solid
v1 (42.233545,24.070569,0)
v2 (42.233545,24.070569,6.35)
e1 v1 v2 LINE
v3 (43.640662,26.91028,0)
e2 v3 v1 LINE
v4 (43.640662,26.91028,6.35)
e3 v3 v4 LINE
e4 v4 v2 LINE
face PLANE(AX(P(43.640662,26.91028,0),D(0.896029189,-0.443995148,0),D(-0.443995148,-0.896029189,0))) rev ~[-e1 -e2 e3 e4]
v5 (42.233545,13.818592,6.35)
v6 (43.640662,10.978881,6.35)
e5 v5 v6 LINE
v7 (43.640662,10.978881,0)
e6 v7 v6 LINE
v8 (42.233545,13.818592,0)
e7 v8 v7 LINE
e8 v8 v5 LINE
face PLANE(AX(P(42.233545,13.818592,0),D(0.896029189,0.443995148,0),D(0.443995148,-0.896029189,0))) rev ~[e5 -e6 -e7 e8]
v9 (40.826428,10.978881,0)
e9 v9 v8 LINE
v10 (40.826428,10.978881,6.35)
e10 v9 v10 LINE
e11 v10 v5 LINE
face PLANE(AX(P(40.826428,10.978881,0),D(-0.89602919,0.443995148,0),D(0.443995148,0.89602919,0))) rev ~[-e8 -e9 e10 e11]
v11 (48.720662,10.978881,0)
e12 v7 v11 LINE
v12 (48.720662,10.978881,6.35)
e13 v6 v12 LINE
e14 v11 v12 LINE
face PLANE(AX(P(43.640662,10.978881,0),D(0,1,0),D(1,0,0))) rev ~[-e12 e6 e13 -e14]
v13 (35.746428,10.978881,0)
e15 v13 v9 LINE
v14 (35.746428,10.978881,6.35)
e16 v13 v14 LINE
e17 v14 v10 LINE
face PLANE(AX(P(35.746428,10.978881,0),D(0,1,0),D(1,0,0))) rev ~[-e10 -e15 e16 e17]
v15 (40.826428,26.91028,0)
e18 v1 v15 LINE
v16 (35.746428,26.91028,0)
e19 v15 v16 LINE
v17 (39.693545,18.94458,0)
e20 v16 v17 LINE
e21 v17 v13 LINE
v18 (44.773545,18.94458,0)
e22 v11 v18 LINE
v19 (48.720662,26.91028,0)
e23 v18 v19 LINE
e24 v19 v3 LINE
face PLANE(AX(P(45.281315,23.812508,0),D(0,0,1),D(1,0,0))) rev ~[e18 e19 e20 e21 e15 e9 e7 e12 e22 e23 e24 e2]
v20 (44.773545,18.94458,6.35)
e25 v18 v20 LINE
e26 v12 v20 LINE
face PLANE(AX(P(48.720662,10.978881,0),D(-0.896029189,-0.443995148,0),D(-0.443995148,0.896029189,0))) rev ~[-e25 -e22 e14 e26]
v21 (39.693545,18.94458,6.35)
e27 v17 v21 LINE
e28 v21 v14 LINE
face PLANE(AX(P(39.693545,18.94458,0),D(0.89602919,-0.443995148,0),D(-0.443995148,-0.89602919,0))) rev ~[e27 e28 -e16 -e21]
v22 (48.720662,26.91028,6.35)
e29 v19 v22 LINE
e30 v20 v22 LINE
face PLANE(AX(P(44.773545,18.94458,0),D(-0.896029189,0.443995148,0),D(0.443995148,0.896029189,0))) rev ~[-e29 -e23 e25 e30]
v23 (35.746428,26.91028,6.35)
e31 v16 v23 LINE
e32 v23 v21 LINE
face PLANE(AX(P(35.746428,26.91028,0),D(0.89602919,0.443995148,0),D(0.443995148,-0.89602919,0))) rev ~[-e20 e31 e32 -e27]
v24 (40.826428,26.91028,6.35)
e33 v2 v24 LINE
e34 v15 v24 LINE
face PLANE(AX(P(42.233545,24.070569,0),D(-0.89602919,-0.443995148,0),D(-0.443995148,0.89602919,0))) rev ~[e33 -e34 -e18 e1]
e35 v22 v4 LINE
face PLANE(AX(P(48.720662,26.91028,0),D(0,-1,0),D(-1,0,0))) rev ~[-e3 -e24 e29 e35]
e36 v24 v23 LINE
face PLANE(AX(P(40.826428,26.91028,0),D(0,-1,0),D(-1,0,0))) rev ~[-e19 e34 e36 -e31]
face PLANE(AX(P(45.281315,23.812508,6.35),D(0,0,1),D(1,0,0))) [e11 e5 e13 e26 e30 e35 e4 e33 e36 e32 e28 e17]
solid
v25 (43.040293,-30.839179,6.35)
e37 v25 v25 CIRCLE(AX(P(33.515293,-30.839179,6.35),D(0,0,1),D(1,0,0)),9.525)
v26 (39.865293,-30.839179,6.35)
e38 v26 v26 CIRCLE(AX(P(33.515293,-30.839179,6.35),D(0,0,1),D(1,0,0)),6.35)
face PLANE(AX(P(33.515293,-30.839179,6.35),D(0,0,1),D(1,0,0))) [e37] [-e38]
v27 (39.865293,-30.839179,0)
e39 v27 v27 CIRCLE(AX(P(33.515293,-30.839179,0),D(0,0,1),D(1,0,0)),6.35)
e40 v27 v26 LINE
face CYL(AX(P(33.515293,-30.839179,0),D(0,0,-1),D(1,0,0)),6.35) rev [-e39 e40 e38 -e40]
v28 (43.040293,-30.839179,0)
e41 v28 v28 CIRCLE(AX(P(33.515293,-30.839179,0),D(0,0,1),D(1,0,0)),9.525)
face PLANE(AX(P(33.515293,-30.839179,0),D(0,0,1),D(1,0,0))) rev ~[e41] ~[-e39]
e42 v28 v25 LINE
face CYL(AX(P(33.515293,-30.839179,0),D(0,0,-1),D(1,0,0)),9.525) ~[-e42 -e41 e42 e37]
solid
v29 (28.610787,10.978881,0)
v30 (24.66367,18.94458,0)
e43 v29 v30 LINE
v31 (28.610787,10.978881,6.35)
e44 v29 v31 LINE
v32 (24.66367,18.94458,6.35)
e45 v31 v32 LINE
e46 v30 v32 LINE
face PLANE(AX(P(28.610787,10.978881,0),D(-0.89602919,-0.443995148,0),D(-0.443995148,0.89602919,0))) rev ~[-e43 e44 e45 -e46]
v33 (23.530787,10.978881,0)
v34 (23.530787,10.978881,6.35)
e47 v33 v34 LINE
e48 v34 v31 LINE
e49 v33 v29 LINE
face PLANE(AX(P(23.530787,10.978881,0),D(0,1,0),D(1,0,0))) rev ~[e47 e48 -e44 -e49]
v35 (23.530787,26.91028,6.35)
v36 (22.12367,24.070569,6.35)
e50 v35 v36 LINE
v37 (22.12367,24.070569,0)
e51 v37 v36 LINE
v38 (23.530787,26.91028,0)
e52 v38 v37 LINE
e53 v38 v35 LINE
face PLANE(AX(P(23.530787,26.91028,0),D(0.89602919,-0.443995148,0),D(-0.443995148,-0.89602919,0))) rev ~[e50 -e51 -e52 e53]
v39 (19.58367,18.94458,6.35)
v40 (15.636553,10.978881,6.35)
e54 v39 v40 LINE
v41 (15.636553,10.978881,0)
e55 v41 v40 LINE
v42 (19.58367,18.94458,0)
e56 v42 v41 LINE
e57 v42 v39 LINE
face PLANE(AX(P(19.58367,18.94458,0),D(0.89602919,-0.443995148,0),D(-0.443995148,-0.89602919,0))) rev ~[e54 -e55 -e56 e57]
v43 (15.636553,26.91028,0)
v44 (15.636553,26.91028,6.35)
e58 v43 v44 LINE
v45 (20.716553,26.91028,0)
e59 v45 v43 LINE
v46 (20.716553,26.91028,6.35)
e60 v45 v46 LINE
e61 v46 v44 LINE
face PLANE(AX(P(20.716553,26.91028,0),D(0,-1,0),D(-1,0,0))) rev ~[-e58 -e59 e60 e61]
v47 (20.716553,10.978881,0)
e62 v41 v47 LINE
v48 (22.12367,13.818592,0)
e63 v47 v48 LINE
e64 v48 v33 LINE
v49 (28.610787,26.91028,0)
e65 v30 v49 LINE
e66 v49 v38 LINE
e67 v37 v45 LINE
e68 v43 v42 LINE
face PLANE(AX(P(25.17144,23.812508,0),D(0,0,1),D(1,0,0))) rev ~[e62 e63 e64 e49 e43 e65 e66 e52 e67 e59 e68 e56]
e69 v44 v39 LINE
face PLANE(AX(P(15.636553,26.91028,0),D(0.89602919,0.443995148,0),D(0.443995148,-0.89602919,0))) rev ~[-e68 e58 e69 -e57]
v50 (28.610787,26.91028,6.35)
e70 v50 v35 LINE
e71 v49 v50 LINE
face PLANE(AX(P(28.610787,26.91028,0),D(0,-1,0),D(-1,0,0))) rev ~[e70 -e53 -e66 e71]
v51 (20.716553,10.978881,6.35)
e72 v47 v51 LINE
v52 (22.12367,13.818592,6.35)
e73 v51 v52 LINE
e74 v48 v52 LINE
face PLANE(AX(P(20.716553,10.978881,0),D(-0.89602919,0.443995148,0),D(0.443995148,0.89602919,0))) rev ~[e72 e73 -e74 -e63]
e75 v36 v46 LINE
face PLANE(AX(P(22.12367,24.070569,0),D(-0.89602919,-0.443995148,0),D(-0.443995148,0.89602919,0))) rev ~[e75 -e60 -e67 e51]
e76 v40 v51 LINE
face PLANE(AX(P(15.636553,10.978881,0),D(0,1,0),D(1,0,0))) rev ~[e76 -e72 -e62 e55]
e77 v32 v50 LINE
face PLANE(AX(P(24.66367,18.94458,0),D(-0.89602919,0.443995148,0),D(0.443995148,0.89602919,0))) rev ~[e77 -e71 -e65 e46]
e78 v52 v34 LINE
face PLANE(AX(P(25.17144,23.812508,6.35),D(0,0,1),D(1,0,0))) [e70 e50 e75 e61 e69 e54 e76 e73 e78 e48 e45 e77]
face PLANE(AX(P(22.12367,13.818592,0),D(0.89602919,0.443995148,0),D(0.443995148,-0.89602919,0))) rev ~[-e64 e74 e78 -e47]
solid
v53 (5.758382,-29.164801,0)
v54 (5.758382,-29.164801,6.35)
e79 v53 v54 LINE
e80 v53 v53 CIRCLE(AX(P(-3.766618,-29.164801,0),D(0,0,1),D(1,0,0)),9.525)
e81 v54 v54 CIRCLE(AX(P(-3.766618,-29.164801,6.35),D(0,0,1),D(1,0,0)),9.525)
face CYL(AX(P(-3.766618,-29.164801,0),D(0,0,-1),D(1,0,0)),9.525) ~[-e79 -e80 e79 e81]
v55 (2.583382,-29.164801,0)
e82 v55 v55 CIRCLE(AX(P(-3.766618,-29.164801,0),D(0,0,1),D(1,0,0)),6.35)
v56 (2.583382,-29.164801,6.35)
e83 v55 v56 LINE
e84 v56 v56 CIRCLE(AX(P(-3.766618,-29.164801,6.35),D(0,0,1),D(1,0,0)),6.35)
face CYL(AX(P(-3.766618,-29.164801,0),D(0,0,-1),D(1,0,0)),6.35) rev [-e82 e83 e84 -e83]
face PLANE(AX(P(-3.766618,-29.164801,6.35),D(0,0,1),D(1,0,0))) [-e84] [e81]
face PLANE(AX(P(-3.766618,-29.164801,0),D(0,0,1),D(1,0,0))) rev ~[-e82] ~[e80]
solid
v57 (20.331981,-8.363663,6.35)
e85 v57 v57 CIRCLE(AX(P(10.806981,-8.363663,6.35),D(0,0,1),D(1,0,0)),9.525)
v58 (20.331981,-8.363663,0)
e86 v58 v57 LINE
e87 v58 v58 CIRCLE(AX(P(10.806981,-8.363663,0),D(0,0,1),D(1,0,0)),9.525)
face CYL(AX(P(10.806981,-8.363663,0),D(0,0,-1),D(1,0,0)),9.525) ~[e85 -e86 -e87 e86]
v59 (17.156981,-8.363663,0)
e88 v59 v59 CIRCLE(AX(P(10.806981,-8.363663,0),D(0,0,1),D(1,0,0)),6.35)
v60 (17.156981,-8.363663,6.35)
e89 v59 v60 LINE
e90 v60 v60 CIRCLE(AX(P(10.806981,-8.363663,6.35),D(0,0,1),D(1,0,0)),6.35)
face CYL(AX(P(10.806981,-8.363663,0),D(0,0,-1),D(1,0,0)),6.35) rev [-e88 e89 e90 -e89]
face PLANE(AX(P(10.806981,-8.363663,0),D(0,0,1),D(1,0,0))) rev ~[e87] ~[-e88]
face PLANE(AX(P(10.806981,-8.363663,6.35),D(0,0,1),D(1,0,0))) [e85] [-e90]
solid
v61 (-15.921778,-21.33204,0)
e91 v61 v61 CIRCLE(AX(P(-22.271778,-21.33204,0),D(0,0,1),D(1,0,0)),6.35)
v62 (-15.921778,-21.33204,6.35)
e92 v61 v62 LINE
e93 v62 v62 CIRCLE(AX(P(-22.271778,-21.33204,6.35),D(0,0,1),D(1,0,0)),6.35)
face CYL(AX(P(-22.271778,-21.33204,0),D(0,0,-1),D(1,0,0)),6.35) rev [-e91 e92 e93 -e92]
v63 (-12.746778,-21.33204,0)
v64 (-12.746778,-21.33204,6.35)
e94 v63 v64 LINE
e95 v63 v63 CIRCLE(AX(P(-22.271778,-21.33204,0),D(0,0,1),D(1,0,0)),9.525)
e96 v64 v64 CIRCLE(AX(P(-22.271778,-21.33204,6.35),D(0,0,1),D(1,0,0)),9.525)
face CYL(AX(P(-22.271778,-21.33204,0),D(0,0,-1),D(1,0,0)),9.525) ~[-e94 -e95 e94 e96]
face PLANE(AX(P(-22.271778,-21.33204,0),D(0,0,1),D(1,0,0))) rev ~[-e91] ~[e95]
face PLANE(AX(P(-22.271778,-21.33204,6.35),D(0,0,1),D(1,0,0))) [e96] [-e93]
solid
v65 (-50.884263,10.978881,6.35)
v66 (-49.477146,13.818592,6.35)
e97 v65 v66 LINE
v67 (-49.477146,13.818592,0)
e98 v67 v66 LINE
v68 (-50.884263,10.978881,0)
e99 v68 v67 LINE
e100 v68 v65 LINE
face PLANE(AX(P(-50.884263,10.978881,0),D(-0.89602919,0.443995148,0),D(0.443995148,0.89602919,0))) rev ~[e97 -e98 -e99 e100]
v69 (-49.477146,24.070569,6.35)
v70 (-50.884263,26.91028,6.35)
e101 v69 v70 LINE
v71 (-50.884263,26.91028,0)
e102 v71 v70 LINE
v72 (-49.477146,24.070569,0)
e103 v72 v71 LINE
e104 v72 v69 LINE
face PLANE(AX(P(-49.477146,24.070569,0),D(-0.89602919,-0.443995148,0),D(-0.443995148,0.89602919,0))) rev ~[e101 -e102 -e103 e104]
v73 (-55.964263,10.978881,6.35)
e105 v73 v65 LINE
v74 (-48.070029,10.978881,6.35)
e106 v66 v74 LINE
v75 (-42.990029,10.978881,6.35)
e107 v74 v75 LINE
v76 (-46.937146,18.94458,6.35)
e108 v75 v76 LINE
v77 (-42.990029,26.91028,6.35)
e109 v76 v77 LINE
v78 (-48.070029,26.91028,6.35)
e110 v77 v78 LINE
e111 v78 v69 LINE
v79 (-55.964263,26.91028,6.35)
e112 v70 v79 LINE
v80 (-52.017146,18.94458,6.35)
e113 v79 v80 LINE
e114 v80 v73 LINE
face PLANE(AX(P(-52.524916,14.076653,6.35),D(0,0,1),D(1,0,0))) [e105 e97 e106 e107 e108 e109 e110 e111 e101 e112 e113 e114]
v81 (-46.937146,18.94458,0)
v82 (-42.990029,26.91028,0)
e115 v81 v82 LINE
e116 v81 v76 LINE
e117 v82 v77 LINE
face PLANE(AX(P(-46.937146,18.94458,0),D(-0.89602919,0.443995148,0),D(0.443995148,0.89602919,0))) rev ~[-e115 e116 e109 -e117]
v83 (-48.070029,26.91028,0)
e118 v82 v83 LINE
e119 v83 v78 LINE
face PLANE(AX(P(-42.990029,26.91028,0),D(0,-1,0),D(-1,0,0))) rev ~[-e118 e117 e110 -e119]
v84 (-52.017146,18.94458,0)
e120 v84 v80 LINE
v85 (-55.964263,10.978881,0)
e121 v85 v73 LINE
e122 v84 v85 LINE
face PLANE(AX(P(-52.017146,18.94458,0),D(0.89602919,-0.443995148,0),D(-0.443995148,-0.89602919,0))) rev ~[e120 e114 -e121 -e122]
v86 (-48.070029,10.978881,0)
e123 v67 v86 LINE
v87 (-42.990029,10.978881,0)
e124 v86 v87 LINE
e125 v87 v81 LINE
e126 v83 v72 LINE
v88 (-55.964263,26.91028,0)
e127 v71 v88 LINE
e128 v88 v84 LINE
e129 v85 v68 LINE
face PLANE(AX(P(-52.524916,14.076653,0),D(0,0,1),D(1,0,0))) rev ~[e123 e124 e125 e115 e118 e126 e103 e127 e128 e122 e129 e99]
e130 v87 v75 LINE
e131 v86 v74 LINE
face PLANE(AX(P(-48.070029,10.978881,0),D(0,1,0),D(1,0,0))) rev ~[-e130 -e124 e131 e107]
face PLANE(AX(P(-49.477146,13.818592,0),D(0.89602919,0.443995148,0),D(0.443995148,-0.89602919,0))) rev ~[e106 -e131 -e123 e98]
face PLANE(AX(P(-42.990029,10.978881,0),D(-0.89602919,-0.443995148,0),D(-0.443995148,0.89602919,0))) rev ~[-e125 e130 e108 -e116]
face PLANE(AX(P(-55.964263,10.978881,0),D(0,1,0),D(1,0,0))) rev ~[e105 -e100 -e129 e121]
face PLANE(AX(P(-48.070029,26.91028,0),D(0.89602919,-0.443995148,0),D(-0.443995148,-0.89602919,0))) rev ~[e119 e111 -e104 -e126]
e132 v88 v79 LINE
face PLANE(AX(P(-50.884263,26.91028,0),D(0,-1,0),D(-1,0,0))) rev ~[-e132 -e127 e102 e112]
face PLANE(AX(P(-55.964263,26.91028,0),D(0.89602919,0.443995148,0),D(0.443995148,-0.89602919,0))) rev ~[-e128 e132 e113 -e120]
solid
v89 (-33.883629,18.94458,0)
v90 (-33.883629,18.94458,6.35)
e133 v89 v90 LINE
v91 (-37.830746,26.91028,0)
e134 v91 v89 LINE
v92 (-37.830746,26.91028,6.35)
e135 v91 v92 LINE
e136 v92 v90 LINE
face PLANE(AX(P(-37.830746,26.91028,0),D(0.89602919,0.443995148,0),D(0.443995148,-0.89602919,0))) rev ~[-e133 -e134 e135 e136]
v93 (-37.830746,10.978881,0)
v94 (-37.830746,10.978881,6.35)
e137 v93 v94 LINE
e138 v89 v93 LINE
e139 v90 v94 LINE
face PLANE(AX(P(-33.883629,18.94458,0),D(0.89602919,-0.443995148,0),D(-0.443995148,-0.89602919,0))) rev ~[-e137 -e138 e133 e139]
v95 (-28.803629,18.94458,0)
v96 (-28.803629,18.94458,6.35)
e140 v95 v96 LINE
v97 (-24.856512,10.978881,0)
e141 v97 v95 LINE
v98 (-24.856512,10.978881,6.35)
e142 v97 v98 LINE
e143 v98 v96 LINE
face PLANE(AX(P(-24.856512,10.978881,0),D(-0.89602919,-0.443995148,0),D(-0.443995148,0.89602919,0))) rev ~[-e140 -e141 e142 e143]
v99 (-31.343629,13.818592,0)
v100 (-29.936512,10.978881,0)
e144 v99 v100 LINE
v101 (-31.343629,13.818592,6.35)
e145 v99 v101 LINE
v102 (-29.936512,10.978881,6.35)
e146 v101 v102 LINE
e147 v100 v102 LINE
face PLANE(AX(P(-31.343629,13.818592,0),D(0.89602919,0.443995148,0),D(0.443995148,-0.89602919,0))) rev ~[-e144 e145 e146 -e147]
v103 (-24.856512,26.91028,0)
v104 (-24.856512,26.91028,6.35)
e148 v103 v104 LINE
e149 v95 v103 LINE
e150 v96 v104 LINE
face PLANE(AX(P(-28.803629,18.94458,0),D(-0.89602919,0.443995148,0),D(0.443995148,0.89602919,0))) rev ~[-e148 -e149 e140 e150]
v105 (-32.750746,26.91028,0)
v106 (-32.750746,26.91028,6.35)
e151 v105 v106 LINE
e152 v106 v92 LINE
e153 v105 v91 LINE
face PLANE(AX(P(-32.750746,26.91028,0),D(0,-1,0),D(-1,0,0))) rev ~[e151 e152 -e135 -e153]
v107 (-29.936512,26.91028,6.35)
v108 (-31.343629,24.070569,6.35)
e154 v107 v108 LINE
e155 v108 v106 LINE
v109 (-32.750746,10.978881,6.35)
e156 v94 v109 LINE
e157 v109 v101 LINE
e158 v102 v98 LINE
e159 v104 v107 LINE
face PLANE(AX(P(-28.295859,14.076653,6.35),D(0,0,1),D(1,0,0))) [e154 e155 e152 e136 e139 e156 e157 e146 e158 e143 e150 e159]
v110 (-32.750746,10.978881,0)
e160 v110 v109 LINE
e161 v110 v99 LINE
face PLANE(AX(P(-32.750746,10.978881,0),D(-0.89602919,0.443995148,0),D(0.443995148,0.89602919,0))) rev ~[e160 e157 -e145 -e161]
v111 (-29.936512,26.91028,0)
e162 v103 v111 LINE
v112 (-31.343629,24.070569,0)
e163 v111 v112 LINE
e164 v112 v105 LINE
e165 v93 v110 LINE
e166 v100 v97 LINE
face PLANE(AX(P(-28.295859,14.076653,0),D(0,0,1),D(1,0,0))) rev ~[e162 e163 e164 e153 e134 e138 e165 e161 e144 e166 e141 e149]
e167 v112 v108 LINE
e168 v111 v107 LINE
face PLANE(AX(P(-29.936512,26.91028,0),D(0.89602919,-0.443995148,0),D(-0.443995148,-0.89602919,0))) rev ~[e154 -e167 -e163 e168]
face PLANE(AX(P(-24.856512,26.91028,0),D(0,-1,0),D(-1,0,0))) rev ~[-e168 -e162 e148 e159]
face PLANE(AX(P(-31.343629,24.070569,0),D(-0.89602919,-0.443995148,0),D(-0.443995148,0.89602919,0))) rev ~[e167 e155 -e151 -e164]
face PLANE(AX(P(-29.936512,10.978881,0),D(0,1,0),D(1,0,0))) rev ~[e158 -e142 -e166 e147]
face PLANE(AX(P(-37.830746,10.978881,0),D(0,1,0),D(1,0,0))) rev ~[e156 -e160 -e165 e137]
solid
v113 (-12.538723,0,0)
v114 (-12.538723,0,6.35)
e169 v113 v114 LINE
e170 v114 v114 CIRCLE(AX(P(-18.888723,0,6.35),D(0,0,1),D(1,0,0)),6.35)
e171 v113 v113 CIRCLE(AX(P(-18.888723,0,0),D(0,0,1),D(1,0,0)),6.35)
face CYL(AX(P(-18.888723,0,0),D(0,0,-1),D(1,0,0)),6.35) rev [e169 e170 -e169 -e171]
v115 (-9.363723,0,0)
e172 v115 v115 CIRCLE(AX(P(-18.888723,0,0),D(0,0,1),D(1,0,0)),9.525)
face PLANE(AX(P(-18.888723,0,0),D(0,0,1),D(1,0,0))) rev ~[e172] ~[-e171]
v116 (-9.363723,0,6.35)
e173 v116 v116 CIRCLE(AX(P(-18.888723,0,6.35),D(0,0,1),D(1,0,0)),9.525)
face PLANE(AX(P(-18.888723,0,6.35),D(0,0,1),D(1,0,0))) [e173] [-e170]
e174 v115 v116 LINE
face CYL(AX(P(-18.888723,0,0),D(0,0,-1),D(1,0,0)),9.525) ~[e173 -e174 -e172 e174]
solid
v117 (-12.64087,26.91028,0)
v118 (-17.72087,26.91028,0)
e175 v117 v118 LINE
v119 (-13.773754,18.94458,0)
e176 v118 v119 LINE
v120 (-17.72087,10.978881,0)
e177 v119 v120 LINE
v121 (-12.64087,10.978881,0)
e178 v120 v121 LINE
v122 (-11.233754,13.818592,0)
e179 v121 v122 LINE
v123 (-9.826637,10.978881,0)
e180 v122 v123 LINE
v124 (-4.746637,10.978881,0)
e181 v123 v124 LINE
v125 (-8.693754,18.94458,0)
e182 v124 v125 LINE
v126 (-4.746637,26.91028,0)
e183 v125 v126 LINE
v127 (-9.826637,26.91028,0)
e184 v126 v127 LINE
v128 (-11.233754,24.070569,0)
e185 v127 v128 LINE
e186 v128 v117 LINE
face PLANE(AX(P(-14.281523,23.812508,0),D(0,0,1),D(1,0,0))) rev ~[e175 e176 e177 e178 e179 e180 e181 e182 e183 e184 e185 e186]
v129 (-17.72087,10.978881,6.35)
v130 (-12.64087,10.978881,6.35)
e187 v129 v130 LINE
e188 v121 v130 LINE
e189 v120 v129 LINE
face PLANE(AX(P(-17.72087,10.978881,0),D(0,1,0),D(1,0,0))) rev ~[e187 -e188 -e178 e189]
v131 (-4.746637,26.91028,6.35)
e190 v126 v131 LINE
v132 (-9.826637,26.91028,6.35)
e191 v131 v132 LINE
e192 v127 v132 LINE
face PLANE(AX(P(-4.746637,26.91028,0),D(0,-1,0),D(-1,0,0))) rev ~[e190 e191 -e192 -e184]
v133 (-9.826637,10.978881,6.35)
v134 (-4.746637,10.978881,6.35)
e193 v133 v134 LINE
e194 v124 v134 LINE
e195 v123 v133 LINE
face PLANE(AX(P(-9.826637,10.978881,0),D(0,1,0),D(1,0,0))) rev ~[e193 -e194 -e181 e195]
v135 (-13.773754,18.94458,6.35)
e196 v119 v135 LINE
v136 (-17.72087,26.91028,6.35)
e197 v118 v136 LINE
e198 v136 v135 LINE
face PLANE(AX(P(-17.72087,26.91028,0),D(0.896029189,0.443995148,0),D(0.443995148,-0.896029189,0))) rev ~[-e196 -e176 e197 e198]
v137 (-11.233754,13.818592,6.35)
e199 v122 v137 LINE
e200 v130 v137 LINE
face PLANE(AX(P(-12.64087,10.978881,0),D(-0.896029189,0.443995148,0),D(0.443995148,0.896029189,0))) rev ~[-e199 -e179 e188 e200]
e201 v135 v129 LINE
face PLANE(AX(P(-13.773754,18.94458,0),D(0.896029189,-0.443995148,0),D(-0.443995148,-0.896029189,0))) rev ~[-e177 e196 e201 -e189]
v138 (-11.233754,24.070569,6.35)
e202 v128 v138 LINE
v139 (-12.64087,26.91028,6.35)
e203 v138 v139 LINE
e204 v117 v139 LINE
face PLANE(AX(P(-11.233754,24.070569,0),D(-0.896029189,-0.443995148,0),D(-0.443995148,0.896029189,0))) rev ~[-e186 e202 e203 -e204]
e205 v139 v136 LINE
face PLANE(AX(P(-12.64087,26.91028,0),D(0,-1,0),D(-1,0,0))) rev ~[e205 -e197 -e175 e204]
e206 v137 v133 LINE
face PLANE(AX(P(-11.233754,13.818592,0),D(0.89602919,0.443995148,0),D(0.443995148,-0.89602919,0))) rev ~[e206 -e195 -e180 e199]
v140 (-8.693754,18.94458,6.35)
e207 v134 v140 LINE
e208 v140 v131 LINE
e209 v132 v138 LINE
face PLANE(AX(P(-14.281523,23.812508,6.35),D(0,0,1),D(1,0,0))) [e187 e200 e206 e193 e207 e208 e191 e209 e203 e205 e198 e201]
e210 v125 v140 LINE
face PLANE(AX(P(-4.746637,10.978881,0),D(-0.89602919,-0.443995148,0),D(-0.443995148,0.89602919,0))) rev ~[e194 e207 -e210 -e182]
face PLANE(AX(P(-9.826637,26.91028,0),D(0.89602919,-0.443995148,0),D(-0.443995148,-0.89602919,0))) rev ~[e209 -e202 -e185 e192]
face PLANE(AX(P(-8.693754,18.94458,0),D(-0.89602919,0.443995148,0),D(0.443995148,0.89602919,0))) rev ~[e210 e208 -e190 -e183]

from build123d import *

# Parameters (mm, degrees)
F0_R     = 9.525
F0_R_2   = 6.35
F1_DEPTH = 6.35


with BuildPart() as f1:
    # F0 (on Top) → F1 (new body)
    with BuildSketch(Plane.XY):
        with Locations((-3.7666179448, -29.1648005379)):
            Circle(F0_R)
        with Locations((-3.7666179448, -29.1648005379)):
            Circle(F0_R_2, mode=Mode.SUBTRACT)
    extrude(amount=F1_DEPTH)


with BuildPart() as f1b:
    # F0 (on Top) → F1, piece 2 (new body)
    with BuildSketch(Plane.XY):
        with Locations((-18.8887231052, 0)):
            Circle(F0_R)
        with Locations((-18.8887231052, 0)):
            Circle(F0_R_2, mode=Mode.SUBTRACT)
    extrude(amount=F1_DEPTH)


with BuildPart() as f1c:
    # F0 (on Top) → F1, piece 3 (new body)
    with BuildSketch(Plane.XY):
        with Locations((-22.2717784345, -21.3320404291)):
            Circle(F0_R)
        with Locations((-22.2717784345, -21.3320404291)):
            Circle(F0_R_2, mode=Mode.SUBTRACT)
    extrude(amount=F1_DEPTH)


with BuildPart() as f1d:
    # F0 (on Top) → F1, piece 4 (new body)
    with BuildSketch(Plane.XY):
        with Locations((10.8069814742, -8.3636632189)):
            Circle(F0_R)
        with Locations((10.8069814742, -8.3636632189)):
            Circle(F0_R_2, mode=Mode.SUBTRACT)
    extrude(amount=F1_DEPTH)


with BuildPart() as f1e:
    # F0 (on Top) → F1, piece 5 (new body)
    with BuildSketch(Plane.XY):
        with Locations((33.5152931511, -30.8391787112)):
            Circle(F0_R)
        with Locations((33.5152931511, -30.8391787112)):
            Circle(F0_R_2, mode=Mode.SUBTRACT)
    extrude(amount=F1_DEPTH)


with BuildPart() as f1f:
    # F0 (on Top) → F1, piece 6 (new body)
    with BuildSketch(Plane.XY):
        Polygon((-12.6408703996, 26.9102798775), (-17.7208703996, 26.9102798775), (-13.7737535327, 18.9445803828), (-11.2337535327, 24.0705691486), align=None)
        Polygon((-11.2337535327, 24.0705691486), (-13.7737535327, 18.9445803828), (-11.2337535327, 13.818591617), (-8.6937535327, 18.9445803828), align=None)
        Polygon((-11.2337535327, 13.818591617), (-13.7737535327, 18.9445803828), (-17.7208703996, 10.9788808881), (-12.6408703996, 10.9788808881), align=None)
        Polygon((-9.8266366659, 26.9102798775), (-11.2337535327, 24.0705691486), (-8.6937535327, 18.9445803828), (-4.7466366659, 26.9102798775), (-6.5851830877, 26.9102798775), align=None)
        Polygon((-8.6937535327, 18.9445803828), (-11.2337535327, 13.818591617), (-9.8266366659, 10.9788808881), (-4.7466366659, 10.9788808881), align=None)
    extrude(amount=F1_DEPTH)


with BuildPart() as f1g:
    # F0 (on Top) → F1, piece 7 (new body)
    with BuildSketch(Plane.XY):
        Polygon((-31.3436286444, 13.818591617), (-29.9365117776, 10.9788808881), (-24.8565117776, 10.9788808881), (-28.8036286444, 18.9445803828), align=None)
        Polygon((-32.7507455112, 10.9788808881), (-31.3436286444, 13.818591617), (-33.8836286444, 18.9445803828), (-37.8307455112, 10.9788808881), align=None)
        Polygon((-33.8836286444, 18.9445803828), (-31.3436286444, 13.818591617), (-28.8036286444, 18.9445803828), (-31.3436286444, 24.0705691486), align=None)
        Polygon((-37.8307455112, 26.9102798775), (-33.8836286444, 18.9445803828), (-31.3436286444, 24.0705691486), (-32.7507455112, 26.9102798775), align=None)
        Polygon((-31.3436286444, 24.0705691486), (-28.8036286444, 18.9445803828), (-24.8565117776, 26.9102798775), (-29.9365117776, 26.9102798775), align=None)
    extrude(amount=F1_DEPTH)


with BuildPart() as f1h:
    # F0 (on Top) → F1, piece 8 (new body)
    with BuildSketch(Plane.XY):
        Polygon((48.720662192, 26.9102798775), (43.640662192, 26.9102798775), (42.2335453251, 24.0705691486), (44.7735453251, 18.9445803828), align=None)
        Polygon((44.7735453251, 18.9445803828), (42.2335453251, 24.0705691486), (39.6935453251, 18.9445803828), (42.2335453251, 13.818591617), align=None)
        Polygon((39.6935453251, 18.9445803828), (42.2335453251, 24.0705691486), (40.8264284583, 26.9102798775), (35.7464284583, 26.9102798775), align=None)
        Polygon((42.2335453251, 13.818591617), (39.6935453251, 18.9445803828), (35.7464284583, 10.9788808881), (40.8264284583, 10.9788808881), align=None)
        Polygon((48.720662192, 10.9788808881), (44.7735453251, 18.9445803828), (42.2335453251, 13.818591617), (43.640662192, 10.9788808881), align=None)
    extrude(amount=F1_DEPTH)


with BuildPart() as f1i:
    # F0 (on Top) → F1, piece 9 (new body)
    with BuildSketch(Plane.XY):
        Polygon((24.6636702135, 18.9445803828), (28.6107870803, 26.9102798775), (23.5307870803, 26.9102798775), (22.1236702135, 24.0705691486), align=None)
        Polygon((22.1236702135, 13.818591617), (24.6636702135, 18.9445803828), (22.1236702135, 24.0705691486), (19.5836702135, 18.9445803828), align=None)
        Polygon((28.6107870803, 10.9788808881), (24.6636702135, 18.9445803828), (22.1236702135, 13.818591617), (23.5307870803, 10.9788808881), align=None)
        Polygon((19.5836702135, 18.9445803828), (22.1236702135, 24.0705691486), (20.7165533467, 26.9102798775), (15.6365533467, 26.9102798775), align=None)
        Polygon((20.7165533467, 10.9788808881), (22.1236702135, 13.818591617), (19.5836702135, 18.9445803828), (15.6365533467, 10.9788808881), align=None)
    extrude(amount=F1_DEPTH)


with BuildPart() as f1j:
    # F0 (on Top) → F1, piece 10 (new body)
    with BuildSketch(Plane.XY):
        Polygon((-52.0171459991, 18.9445803828), (-55.9642628659, 10.9788808881), (-50.8842628659, 10.9788808881), (-49.4771459991, 13.818591617), align=None)
        Polygon((-49.4771459991, 24.0705691486), (-52.0171459991, 18.9445803828), (-49.4771459991, 13.818591617), (-46.9371459991, 18.9445803828), align=None)
        Polygon((-55.9642628659, 26.9102798775), (-52.0171459991, 18.9445803828), (-49.4771459991, 24.0705691486), (-50.8842628659, 26.9102798775), align=None)
        Polygon((-46.9371459991, 18.9445803828), (-49.4771459991, 13.818591617), (-48.0700291323, 10.9788808881), (-42.9900291323, 10.9788808881), align=None)
        Polygon((-48.0700291323, 26.9102798775), (-49.4771459991, 24.0705691486), (-46.9371459991, 18.9445803828), (-42.9900291323, 26.9102798775), align=None)
    extrude(amount=F1_DEPTH)


solid = Compound([f1.part, f1b.part, f1c.part, f1d.part, f1e.part, f1f.part, f1g.part, f1h.part, f1i.part, f1j.part])
